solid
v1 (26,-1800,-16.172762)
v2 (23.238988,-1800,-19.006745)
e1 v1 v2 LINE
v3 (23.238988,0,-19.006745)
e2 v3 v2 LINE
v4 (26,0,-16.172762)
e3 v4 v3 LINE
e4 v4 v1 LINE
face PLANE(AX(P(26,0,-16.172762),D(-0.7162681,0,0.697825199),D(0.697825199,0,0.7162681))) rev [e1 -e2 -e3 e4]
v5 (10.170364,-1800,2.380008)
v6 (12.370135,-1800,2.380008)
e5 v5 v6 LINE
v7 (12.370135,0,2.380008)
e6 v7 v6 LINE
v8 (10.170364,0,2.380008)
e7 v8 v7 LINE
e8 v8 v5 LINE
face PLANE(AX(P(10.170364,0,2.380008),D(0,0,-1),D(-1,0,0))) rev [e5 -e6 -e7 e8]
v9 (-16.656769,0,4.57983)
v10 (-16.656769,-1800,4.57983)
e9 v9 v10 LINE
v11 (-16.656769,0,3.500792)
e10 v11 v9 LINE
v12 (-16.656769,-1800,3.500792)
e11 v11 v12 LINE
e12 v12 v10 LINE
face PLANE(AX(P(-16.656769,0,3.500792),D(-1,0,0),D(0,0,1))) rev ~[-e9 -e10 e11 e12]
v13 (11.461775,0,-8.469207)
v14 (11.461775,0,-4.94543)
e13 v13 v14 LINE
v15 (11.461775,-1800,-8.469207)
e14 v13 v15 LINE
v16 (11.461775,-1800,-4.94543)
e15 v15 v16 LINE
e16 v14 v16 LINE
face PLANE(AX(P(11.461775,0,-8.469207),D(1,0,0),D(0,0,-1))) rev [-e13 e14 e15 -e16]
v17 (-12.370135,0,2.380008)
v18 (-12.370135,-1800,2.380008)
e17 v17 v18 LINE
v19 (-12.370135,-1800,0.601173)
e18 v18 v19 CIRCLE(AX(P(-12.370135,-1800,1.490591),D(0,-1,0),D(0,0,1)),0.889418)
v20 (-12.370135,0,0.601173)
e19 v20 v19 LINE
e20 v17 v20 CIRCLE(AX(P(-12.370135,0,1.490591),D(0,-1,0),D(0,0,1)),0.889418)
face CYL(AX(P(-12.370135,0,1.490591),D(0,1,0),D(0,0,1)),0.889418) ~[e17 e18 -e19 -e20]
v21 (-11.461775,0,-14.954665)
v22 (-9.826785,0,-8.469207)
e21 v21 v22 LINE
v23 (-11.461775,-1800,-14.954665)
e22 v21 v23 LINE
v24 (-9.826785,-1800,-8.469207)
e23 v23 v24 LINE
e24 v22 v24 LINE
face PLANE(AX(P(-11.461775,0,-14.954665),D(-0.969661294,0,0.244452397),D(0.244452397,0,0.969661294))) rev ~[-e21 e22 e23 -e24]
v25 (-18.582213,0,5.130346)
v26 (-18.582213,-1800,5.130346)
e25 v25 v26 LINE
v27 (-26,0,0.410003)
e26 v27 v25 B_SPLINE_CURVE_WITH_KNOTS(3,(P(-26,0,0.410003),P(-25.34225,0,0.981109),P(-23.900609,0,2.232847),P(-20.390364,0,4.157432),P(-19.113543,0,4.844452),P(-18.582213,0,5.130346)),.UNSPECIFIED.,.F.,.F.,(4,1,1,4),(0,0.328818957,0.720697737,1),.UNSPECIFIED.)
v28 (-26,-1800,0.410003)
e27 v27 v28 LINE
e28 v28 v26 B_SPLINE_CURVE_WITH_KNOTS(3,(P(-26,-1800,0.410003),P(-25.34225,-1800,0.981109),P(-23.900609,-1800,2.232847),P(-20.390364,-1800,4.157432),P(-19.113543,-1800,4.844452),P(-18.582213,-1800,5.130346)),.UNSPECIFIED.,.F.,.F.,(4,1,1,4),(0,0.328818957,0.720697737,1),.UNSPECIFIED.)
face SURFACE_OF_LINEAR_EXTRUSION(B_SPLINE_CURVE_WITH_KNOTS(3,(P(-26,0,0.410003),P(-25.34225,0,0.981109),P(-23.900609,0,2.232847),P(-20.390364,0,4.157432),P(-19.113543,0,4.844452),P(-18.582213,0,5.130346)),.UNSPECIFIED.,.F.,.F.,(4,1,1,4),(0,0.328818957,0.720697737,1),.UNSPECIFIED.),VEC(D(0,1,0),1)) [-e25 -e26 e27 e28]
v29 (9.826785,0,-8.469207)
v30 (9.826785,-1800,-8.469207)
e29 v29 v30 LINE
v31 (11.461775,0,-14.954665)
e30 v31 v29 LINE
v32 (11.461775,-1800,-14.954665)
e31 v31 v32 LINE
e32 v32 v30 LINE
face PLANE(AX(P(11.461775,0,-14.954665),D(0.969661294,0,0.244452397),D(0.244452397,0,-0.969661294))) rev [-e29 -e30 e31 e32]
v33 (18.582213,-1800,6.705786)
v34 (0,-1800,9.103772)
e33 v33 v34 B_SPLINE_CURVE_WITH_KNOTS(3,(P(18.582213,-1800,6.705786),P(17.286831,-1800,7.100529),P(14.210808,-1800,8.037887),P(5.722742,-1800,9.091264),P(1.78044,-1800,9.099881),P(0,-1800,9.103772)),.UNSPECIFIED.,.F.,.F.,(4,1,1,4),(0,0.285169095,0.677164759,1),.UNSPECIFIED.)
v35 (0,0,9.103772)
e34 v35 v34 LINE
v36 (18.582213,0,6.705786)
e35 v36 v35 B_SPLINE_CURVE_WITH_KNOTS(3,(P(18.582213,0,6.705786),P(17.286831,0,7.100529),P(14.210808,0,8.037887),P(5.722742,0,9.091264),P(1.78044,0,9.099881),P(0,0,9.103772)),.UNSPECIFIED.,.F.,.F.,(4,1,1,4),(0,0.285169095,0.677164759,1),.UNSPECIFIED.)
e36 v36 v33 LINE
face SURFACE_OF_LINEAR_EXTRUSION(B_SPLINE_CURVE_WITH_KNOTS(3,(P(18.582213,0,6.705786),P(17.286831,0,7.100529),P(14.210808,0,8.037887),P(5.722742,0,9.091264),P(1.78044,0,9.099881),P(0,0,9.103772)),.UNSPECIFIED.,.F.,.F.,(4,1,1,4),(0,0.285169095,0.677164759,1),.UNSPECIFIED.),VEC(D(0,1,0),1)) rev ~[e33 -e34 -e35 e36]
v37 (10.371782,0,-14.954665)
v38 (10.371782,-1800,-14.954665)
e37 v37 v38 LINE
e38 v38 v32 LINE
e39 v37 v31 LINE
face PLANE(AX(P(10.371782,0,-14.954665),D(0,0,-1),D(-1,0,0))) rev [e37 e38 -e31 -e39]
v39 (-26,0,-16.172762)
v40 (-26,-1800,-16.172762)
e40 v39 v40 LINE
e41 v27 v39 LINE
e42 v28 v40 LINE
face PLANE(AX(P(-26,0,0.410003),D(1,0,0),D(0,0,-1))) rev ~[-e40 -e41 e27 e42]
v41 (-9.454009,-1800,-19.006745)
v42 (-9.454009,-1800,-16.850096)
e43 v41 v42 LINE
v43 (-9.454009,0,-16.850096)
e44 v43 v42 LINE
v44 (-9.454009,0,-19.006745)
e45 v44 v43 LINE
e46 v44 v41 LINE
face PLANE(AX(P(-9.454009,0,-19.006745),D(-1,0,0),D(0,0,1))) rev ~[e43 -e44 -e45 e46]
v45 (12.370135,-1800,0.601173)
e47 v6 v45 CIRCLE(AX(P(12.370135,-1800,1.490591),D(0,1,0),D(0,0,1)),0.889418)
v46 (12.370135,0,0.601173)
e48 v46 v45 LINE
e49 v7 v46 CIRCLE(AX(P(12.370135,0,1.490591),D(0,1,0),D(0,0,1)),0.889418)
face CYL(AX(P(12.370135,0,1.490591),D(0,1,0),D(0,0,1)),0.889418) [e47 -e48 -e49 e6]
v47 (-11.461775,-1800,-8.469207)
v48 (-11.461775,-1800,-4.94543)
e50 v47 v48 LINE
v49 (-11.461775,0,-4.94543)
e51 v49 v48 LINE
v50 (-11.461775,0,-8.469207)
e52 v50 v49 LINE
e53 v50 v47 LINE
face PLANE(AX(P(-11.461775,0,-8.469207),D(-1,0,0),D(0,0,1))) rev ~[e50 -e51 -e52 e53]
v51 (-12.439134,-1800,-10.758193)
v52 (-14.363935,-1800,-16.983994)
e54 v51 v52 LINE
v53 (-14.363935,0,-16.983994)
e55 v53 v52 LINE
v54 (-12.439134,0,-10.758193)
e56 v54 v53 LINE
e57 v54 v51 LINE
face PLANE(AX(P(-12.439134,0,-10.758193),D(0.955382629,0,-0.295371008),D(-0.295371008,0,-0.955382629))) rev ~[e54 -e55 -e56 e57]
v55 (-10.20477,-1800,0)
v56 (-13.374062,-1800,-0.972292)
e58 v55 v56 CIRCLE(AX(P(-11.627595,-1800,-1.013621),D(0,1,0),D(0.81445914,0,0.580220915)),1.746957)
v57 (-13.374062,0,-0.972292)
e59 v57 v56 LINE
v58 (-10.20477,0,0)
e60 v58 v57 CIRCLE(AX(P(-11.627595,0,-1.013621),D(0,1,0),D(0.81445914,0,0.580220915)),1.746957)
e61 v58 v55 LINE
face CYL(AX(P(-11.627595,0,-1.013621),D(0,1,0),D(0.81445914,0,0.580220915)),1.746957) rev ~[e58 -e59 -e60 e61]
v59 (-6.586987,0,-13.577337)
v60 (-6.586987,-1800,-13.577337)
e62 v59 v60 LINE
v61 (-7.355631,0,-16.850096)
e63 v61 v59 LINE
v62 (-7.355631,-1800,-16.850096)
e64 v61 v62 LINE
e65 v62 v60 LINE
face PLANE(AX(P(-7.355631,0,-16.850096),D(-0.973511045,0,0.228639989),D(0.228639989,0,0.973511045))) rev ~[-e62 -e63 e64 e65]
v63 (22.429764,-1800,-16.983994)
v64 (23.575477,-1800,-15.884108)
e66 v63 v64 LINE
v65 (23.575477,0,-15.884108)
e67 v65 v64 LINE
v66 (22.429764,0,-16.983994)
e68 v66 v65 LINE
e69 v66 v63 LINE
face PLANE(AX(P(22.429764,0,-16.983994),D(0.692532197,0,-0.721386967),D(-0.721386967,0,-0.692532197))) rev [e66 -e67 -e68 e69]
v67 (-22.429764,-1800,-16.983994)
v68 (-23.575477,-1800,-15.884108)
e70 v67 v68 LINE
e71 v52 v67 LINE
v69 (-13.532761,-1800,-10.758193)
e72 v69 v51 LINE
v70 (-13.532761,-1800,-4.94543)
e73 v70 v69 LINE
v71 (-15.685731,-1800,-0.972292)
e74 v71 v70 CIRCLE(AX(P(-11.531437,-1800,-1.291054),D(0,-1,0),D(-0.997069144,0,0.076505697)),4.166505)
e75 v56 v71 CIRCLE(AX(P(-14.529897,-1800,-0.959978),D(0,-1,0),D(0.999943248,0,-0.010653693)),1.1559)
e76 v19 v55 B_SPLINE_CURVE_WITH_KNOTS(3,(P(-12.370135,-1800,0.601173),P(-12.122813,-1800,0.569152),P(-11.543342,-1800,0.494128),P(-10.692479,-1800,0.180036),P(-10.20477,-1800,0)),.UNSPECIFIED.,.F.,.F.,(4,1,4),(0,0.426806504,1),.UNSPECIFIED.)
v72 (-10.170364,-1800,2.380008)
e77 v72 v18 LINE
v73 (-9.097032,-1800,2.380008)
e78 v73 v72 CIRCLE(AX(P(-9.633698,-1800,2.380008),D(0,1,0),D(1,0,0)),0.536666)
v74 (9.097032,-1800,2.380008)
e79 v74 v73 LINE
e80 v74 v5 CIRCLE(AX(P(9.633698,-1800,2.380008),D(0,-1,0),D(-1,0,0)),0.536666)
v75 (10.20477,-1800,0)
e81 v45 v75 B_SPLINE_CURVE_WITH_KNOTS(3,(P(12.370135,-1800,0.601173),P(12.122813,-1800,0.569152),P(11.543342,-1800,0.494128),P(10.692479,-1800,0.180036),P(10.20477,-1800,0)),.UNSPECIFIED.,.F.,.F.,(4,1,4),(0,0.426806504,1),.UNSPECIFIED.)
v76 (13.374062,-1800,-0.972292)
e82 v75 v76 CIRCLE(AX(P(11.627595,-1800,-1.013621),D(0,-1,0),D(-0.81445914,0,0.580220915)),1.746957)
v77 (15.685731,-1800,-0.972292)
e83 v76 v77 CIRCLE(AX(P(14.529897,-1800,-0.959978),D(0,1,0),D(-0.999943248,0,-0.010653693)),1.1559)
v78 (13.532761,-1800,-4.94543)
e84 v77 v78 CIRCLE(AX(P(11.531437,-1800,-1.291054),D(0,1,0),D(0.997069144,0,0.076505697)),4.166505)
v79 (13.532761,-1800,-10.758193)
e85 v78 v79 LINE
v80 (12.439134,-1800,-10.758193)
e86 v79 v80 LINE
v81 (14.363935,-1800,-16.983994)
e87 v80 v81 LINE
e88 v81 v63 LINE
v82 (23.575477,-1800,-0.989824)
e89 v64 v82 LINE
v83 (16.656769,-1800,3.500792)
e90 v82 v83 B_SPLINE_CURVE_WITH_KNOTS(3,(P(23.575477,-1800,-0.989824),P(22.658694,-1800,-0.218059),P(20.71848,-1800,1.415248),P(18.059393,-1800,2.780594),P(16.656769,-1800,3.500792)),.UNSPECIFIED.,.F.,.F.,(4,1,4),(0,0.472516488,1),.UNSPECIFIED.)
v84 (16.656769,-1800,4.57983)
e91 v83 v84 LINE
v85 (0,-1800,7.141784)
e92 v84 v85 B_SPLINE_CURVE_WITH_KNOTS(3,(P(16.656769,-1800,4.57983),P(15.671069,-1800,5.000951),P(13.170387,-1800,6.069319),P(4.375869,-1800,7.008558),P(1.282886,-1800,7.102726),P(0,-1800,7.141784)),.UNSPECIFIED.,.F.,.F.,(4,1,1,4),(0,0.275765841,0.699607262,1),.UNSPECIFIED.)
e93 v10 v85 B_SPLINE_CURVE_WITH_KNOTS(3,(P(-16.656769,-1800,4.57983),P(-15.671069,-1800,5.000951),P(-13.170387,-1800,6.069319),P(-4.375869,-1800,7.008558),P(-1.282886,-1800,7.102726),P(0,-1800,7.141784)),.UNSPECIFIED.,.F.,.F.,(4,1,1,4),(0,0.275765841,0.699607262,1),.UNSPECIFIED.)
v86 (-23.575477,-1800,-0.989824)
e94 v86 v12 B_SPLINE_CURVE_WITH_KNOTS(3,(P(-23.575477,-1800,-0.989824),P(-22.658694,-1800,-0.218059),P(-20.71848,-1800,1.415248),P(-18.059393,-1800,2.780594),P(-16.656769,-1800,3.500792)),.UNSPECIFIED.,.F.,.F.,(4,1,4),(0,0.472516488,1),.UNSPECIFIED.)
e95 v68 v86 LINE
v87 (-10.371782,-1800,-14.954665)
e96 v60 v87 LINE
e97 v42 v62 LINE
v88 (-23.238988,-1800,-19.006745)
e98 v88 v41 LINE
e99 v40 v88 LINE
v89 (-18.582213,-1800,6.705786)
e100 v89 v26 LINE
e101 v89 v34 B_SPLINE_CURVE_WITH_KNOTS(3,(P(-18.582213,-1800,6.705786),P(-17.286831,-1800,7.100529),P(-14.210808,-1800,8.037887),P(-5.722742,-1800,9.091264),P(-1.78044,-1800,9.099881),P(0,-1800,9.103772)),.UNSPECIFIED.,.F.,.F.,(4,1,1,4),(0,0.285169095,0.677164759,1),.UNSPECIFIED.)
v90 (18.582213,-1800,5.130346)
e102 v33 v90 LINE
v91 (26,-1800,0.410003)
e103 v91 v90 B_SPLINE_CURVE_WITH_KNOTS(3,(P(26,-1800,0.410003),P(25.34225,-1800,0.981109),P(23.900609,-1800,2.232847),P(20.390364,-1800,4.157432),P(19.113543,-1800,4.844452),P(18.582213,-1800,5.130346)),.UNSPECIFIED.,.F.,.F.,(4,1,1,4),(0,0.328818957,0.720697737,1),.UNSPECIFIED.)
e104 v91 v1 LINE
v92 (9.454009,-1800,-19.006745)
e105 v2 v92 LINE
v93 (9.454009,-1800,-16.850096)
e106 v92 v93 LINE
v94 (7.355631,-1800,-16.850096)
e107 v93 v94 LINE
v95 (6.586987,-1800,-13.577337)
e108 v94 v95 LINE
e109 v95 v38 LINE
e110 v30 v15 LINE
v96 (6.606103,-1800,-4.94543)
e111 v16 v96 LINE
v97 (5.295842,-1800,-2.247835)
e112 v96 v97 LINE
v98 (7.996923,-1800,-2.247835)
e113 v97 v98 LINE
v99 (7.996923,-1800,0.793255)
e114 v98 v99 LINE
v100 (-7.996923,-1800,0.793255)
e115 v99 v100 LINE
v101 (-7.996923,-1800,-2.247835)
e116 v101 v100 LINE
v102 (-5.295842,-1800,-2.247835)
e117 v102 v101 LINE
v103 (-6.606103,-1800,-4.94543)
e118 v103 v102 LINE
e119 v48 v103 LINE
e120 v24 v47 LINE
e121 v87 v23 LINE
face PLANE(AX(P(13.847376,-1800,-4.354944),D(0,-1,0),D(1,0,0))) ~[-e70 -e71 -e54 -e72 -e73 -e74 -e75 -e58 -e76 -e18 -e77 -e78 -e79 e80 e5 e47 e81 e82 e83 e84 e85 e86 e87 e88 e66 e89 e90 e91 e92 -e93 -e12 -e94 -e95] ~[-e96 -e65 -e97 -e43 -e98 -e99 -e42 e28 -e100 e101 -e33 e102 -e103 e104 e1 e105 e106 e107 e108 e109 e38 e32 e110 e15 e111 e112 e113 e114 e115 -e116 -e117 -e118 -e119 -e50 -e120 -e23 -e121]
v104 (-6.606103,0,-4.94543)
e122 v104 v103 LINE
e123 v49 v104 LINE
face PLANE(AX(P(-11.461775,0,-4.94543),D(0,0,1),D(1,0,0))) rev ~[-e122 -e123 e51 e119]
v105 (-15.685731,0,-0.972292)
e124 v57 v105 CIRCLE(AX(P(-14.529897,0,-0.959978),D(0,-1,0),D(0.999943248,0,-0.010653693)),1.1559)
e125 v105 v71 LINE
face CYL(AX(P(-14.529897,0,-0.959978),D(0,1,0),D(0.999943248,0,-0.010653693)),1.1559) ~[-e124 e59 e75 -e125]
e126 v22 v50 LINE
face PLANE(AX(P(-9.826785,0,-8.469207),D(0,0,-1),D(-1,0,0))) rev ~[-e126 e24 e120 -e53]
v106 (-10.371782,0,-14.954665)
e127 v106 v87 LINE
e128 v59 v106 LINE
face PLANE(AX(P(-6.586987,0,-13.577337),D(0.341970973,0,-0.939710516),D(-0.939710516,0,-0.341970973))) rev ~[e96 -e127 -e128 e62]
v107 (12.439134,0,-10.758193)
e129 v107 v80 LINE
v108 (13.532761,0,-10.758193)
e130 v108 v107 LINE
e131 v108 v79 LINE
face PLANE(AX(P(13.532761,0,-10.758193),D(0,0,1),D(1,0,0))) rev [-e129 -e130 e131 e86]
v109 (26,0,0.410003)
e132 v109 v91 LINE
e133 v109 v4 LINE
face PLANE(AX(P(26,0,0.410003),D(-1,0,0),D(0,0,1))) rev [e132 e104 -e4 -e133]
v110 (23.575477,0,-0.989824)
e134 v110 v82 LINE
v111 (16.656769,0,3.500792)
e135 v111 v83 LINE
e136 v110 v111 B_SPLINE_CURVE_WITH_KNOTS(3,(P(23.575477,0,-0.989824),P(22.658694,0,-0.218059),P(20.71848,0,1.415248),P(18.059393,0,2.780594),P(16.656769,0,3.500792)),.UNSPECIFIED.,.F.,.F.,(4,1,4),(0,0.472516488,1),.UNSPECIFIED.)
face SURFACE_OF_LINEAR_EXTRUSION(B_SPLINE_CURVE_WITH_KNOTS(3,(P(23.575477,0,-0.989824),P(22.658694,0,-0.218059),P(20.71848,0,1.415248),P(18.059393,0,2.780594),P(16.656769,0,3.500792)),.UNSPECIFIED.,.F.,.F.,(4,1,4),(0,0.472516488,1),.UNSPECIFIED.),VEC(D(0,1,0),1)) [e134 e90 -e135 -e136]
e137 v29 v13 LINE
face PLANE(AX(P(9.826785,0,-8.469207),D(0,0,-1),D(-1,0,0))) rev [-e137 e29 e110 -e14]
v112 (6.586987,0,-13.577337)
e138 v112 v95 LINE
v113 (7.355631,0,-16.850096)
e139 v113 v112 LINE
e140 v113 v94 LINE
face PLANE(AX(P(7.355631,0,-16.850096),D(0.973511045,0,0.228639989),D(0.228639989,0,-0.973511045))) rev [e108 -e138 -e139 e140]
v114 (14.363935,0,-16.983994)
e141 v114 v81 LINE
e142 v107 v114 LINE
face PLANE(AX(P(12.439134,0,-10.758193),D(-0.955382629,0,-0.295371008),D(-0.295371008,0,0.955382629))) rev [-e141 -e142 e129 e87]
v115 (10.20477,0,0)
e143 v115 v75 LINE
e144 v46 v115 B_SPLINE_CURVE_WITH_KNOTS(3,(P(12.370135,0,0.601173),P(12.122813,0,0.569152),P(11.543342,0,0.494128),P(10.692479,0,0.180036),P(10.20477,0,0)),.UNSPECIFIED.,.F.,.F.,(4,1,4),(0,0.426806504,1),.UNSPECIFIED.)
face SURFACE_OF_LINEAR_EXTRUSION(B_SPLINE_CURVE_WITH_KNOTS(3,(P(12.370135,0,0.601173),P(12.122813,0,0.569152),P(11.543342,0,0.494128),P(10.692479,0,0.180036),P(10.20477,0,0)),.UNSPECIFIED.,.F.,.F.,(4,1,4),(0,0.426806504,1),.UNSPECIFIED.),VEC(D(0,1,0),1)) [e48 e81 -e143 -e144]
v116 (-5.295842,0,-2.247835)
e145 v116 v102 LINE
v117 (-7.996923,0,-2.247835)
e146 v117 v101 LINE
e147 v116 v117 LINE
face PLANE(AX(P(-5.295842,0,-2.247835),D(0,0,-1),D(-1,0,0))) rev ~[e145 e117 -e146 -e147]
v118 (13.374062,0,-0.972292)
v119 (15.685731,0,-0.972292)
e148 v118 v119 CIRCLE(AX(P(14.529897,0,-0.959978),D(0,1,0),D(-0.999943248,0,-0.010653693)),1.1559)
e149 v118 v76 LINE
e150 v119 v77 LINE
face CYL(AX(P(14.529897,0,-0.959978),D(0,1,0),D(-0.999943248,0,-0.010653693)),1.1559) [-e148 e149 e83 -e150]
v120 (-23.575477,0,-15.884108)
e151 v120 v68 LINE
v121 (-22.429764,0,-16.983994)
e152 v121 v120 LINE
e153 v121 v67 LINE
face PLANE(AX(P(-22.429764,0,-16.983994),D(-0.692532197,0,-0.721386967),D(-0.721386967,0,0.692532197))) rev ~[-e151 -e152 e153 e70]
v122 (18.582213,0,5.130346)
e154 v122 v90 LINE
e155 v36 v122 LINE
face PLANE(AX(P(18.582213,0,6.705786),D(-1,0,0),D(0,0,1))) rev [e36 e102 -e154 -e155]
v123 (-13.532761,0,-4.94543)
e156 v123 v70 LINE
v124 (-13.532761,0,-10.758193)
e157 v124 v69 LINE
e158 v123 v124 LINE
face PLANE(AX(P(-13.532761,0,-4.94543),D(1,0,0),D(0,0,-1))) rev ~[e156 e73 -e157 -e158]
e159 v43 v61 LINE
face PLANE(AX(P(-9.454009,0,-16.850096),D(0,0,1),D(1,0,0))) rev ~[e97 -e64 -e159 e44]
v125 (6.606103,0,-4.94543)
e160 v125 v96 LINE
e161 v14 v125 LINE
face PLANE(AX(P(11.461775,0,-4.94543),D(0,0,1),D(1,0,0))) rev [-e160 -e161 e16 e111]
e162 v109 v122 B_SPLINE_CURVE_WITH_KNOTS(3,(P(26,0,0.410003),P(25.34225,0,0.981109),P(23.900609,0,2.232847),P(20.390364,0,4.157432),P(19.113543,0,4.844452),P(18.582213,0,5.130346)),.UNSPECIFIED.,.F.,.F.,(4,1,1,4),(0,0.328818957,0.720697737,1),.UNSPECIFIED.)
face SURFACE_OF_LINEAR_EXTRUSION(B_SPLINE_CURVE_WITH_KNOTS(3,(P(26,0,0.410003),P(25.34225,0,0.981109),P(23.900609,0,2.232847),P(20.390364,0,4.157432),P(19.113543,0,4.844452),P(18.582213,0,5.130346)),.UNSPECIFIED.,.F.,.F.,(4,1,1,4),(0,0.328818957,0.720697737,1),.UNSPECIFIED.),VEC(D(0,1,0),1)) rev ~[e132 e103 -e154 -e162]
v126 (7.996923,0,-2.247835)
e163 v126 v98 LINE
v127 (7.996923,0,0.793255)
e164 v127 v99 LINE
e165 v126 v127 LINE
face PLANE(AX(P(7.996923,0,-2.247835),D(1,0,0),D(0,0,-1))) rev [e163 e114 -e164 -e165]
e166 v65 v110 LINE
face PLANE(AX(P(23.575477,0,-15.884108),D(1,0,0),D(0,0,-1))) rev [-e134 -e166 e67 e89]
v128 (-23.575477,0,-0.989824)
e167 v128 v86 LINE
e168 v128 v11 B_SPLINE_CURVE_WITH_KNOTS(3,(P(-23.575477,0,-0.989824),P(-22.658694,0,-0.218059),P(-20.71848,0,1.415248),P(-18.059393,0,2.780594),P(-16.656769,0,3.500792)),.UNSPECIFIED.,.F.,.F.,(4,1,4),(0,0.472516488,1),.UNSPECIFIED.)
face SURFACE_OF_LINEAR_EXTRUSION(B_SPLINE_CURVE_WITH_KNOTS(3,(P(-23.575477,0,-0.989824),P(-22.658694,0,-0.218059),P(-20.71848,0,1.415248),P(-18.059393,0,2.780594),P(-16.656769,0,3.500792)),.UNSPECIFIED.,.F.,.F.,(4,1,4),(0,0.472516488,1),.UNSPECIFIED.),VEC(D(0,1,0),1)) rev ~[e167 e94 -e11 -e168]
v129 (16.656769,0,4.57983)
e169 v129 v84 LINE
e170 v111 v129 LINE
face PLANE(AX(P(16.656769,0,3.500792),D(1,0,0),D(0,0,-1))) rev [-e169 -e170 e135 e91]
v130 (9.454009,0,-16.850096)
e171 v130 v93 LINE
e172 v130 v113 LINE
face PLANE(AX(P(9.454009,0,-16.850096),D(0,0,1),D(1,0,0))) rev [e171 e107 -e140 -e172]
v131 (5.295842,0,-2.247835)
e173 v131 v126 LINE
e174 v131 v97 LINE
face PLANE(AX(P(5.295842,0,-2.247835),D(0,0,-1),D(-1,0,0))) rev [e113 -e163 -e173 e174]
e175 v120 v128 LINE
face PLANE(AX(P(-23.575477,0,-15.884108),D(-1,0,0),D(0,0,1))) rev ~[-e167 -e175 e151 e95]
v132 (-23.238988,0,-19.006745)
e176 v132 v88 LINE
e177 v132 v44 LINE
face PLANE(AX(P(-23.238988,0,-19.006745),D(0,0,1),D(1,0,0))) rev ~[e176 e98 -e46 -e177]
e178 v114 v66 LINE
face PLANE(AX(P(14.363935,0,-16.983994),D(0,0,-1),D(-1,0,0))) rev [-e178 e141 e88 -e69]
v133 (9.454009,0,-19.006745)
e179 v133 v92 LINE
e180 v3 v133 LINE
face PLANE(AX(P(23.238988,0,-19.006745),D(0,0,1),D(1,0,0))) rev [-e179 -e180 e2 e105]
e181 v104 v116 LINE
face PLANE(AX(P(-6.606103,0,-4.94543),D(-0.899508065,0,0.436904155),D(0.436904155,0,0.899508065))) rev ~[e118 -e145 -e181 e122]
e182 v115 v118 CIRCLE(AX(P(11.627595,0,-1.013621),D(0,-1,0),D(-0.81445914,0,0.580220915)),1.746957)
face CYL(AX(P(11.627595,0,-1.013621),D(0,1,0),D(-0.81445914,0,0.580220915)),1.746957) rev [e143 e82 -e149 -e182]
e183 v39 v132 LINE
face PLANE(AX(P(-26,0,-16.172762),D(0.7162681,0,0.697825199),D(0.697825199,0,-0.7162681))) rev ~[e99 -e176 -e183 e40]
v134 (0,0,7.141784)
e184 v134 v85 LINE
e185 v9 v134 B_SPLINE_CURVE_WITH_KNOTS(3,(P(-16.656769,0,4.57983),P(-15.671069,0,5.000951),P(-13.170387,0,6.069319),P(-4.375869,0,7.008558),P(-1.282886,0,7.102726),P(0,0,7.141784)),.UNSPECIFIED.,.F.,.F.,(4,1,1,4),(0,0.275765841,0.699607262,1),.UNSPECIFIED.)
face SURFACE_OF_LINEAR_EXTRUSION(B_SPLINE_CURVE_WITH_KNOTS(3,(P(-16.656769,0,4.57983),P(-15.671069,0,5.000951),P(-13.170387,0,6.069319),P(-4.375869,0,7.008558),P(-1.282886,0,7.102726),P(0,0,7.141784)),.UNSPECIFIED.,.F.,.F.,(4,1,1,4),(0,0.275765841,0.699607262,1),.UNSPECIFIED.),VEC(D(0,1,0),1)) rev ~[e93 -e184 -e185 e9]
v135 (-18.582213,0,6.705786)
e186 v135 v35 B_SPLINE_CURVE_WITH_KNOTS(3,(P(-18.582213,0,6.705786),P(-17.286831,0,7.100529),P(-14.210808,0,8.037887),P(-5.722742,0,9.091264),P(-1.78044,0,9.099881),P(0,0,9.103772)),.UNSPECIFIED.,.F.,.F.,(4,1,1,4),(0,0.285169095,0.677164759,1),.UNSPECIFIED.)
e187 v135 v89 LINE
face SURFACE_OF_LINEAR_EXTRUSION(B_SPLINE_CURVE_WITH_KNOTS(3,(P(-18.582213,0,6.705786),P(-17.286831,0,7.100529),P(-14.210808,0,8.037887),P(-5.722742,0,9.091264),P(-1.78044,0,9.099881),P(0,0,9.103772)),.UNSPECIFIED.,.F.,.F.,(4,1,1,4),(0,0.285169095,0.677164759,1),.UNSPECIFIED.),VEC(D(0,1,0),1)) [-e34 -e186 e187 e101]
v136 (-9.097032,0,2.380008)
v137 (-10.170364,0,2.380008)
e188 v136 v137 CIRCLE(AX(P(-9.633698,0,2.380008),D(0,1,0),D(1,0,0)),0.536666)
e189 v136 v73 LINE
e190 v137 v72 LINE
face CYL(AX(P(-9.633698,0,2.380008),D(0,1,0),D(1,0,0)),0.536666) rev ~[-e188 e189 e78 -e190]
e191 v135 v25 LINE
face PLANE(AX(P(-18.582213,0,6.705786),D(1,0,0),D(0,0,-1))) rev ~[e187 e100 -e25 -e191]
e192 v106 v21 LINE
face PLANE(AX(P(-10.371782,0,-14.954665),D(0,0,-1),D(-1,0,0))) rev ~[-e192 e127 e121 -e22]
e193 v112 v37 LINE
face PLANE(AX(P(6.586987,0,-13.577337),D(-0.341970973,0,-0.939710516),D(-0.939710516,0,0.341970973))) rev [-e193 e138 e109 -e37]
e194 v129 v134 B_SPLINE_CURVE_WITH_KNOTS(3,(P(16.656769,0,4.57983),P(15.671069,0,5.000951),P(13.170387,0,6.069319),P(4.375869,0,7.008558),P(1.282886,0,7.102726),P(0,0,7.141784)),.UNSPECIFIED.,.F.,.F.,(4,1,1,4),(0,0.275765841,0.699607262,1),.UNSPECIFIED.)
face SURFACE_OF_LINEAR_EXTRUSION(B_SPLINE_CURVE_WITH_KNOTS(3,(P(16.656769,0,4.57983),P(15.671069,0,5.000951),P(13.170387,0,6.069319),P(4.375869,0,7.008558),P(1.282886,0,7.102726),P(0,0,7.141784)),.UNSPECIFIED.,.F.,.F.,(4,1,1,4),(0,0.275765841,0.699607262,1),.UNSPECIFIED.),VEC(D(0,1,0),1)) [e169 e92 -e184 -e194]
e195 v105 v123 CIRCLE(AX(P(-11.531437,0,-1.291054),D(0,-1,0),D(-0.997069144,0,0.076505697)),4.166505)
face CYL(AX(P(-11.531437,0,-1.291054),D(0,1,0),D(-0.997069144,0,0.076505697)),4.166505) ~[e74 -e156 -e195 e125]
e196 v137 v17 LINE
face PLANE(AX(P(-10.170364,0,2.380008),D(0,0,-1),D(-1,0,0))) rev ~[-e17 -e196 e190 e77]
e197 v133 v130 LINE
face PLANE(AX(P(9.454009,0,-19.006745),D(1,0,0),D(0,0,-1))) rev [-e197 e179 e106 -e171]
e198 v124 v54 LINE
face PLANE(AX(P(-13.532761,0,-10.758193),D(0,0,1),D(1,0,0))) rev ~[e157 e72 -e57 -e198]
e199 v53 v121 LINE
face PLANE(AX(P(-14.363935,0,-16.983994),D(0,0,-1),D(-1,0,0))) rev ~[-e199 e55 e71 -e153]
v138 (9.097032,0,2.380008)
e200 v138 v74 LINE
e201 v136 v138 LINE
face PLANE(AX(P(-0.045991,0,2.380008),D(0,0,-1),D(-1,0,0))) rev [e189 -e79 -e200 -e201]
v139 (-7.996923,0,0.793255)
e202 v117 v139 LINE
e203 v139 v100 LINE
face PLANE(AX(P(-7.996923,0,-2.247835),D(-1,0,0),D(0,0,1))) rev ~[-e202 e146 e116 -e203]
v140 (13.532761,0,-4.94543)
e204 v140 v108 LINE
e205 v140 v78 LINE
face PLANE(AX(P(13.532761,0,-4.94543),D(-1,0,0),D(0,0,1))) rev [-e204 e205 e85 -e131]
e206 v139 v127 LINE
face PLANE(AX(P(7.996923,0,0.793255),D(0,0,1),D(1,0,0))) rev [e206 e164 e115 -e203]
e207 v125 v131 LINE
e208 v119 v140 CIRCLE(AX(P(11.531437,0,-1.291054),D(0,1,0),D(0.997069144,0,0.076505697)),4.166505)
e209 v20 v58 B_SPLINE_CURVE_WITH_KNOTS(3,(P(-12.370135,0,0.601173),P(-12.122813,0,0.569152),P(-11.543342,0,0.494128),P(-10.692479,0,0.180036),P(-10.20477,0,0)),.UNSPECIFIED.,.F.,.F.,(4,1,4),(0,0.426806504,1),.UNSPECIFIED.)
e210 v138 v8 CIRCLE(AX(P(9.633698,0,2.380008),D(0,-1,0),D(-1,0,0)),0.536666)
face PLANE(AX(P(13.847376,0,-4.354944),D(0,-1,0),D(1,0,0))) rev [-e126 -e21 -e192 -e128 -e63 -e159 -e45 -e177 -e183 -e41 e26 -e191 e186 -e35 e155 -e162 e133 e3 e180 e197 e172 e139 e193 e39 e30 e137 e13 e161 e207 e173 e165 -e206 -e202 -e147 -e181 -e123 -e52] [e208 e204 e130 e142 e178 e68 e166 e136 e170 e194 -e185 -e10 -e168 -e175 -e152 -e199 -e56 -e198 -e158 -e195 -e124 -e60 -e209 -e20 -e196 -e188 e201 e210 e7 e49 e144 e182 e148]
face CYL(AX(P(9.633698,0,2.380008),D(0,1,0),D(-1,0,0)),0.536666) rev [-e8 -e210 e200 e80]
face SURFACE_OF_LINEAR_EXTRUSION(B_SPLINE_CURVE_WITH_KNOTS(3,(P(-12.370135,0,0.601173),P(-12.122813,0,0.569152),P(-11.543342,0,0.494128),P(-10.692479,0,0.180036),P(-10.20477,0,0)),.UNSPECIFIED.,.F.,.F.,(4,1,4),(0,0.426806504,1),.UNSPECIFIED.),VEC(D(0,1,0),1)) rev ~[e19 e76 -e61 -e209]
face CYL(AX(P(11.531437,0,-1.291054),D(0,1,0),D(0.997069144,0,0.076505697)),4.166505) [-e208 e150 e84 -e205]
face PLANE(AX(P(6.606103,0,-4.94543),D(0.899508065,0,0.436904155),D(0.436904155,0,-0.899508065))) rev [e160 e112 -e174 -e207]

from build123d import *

# Parameters (mm, degrees)
F1_DEPTH = 1800


with BuildPart() as f1:
    # F0 (on Front) → F1 (new body)
    with BuildSketch(Plane.XZ):
        with BuildLine():
            Line((-7.9969227636, -2.2478350473), (-7.9969227636, 0.7932551553))
            Line((-7.9969227636, 0.7932551553), (0.0459905117, 0.7932551553))
            Line((0.0459905117, 0.7932551553), (0.0459905117, 2.3800082379))
            Line((0.0459905117, 2.3800082379), (-9.0970324447, 2.3800082379))
            ThreePointArc((-9.0970324447, 2.3800082379), (-9.6336982741, 1.8433424086), (-10.1703641034, 2.3800082379))
            Line((-10.1703641034, 2.3800082379), (-12.3701348422, 2.3800082379))
            ThreePointArc((-12.3701348422, 2.3800082379), (-13.2595523658, 1.4905907143), (-12.3701348422, 0.6011731907))
            add(Edge.make_bspline(
                [(-12.3701348422, 0.6011731907), (-12.1228129616, 0.5691521849), (-11.5433422221, 0.4941275414), (-10.6924791091, 0.1800355097), (-10.2047699068, 0)],
                knots=[0, 0, 0, 0, 0.4268065041, 1, 1, 1, 1], degree=3))
            ThreePointArc((-10.2047699068, 0), (-11.1152235093, -2.6837504686), (-13.3740623856, -0.9722922392))
            Line((-13.3740623856, -0.9722922392), (-15.6857306961, -0.9722922392))
            ThreePointArc((-15.6857306961, -0.9722922392), (-15.1946820558, -3.2760979159), (-13.532761484, -4.945429931))
            Line((-13.532761484, -4.945429931), (-13.532761484, -10.7581925882))
            Line((-13.532761484, -10.7581925882), (-12.4391342032, -10.7581925882))
            Line((-12.4391342032, -10.7581925882), (-14.3639348651, -16.9839935943))
            Line((-14.3639348651, -16.9839935943), (-22.429763532, -16.9839935943))
            Line((-22.429763532, -16.9839935943), (-23.5754768726, -15.8841076624))
            Line((-23.5754768726, -15.8841076624), (-23.5754768726, -0.9898235486))
            add(Edge.make_bspline(
                [(-23.5754768726, -0.9898235486), (-22.6586938501, -0.2180588848), (-20.7184800237, 1.4152484897), (-18.0593931921, 2.7805943387), (-16.6567687304, 3.5007917628)],
                knots=[0, 0, 0, 0, 0.4725164876, 1, 1, 1, 1], degree=3))
            Line((-16.6567687304, 3.5007917628), (-16.6567687304, 4.5798297725))
            add(Edge.make_bspline(
                [(-16.6567687304, 4.5798297725), (-15.6710688835, 5.0009508786), (-13.1703865293, 6.0693188227), (-4.3758690531, 7.0085577977), (-1.2828857884, 7.1027256627), (0, 7.1417839457)],
                knots=[0, 0, 0, 0, 0.2757658405, 0.6996072623, 1, 1, 1, 1], degree=3))
            Line((0, 7.1417839457), (0, 9.1037720633))
            add(Edge.make_bspline(
                [(-18.582212805, 6.7057863363), (-17.2868311529, 7.1005286698), (-14.210807771, 8.0378868962), (-5.7227418129, 9.0912644328), (-1.7804404056, 9.0998807309), (0, 9.1037720633)],
                knots=[0, 0, 0, 0, 0.2851690949, 0.6771647586, 1, 1, 1, 1], degree=3))
            Line((-18.582212805, 6.7057863363), (-18.582212805, 5.1303458482))
            add(Edge.make_bspline(
                [(-26, 0.4100030183), (-25.3422499449, 0.9811093773), (-23.9006086818, 2.2328470038), (-20.3903638593, 4.1574315556), (-19.1135432108, 4.8444521754), (-18.582212805, 5.1303458482)],
                knots=[0, 0, 0, 0, 0.3288189571, 0.7206977375, 1, 1, 1, 1], degree=3))
            Line((-26, 0.4100030183), (-26, -16.1727615082))
            Line((-26, -16.1727615082), (-23.2389877654, -19.0067448447))
            Line((-23.2389877654, -19.0067448447), (-9.4540094883, -19.0067448447))
            Line((-9.4540094883, -19.0067448447), (-9.4540094883, -16.8500962567))
            Line((-9.4540094883, -16.8500962567), (-7.3556309386, -16.8500962567))
            Line((-7.3556309386, -16.8500962567), (-6.5869867008, -13.5773369376))
            Line((-6.5869867008, -13.5773369376), (-10.3717816277, -14.9546653609))
            Line((-10.3717816277, -14.9546653609), (-11.4617745264, -14.9546653609))
            Line((-11.4617745264, -14.9546653609), (-9.8267851783, -8.469206826))
            Line((-9.8267851783, -8.469206826), (-11.4617745264, -8.469206826))
            Line((-11.4617745264, -8.469206826), (-11.4617745264, -4.945429931))
            Line((-11.4617745264, -4.945429931), (-6.6061029203, -4.945429931))
            Line((-6.6061029203, -4.945429931), (-5.2958418371, -2.2478350473))
            Line((-5.2958418371, -2.2478350473), (-7.9969227636, -2.2478350473))
        make_face()
        with BuildLine():
            Line((-15.6857306961, -0.9722922392), (-13.3740623856, -0.9722922392))
            ThreePointArc((-13.3740623856, -0.9722922392), (-14.5298965409, 0.1959221176), (-15.6857306961, -0.9722922392))
        make_face()
    extrude(amount=F1_DEPTH)

    # F2: F1 across plane


with BuildPart() as f1_1:
    add(f1.part)
    add(f1.part.mirror(Plane.YZ))


solid = f1_1.part
